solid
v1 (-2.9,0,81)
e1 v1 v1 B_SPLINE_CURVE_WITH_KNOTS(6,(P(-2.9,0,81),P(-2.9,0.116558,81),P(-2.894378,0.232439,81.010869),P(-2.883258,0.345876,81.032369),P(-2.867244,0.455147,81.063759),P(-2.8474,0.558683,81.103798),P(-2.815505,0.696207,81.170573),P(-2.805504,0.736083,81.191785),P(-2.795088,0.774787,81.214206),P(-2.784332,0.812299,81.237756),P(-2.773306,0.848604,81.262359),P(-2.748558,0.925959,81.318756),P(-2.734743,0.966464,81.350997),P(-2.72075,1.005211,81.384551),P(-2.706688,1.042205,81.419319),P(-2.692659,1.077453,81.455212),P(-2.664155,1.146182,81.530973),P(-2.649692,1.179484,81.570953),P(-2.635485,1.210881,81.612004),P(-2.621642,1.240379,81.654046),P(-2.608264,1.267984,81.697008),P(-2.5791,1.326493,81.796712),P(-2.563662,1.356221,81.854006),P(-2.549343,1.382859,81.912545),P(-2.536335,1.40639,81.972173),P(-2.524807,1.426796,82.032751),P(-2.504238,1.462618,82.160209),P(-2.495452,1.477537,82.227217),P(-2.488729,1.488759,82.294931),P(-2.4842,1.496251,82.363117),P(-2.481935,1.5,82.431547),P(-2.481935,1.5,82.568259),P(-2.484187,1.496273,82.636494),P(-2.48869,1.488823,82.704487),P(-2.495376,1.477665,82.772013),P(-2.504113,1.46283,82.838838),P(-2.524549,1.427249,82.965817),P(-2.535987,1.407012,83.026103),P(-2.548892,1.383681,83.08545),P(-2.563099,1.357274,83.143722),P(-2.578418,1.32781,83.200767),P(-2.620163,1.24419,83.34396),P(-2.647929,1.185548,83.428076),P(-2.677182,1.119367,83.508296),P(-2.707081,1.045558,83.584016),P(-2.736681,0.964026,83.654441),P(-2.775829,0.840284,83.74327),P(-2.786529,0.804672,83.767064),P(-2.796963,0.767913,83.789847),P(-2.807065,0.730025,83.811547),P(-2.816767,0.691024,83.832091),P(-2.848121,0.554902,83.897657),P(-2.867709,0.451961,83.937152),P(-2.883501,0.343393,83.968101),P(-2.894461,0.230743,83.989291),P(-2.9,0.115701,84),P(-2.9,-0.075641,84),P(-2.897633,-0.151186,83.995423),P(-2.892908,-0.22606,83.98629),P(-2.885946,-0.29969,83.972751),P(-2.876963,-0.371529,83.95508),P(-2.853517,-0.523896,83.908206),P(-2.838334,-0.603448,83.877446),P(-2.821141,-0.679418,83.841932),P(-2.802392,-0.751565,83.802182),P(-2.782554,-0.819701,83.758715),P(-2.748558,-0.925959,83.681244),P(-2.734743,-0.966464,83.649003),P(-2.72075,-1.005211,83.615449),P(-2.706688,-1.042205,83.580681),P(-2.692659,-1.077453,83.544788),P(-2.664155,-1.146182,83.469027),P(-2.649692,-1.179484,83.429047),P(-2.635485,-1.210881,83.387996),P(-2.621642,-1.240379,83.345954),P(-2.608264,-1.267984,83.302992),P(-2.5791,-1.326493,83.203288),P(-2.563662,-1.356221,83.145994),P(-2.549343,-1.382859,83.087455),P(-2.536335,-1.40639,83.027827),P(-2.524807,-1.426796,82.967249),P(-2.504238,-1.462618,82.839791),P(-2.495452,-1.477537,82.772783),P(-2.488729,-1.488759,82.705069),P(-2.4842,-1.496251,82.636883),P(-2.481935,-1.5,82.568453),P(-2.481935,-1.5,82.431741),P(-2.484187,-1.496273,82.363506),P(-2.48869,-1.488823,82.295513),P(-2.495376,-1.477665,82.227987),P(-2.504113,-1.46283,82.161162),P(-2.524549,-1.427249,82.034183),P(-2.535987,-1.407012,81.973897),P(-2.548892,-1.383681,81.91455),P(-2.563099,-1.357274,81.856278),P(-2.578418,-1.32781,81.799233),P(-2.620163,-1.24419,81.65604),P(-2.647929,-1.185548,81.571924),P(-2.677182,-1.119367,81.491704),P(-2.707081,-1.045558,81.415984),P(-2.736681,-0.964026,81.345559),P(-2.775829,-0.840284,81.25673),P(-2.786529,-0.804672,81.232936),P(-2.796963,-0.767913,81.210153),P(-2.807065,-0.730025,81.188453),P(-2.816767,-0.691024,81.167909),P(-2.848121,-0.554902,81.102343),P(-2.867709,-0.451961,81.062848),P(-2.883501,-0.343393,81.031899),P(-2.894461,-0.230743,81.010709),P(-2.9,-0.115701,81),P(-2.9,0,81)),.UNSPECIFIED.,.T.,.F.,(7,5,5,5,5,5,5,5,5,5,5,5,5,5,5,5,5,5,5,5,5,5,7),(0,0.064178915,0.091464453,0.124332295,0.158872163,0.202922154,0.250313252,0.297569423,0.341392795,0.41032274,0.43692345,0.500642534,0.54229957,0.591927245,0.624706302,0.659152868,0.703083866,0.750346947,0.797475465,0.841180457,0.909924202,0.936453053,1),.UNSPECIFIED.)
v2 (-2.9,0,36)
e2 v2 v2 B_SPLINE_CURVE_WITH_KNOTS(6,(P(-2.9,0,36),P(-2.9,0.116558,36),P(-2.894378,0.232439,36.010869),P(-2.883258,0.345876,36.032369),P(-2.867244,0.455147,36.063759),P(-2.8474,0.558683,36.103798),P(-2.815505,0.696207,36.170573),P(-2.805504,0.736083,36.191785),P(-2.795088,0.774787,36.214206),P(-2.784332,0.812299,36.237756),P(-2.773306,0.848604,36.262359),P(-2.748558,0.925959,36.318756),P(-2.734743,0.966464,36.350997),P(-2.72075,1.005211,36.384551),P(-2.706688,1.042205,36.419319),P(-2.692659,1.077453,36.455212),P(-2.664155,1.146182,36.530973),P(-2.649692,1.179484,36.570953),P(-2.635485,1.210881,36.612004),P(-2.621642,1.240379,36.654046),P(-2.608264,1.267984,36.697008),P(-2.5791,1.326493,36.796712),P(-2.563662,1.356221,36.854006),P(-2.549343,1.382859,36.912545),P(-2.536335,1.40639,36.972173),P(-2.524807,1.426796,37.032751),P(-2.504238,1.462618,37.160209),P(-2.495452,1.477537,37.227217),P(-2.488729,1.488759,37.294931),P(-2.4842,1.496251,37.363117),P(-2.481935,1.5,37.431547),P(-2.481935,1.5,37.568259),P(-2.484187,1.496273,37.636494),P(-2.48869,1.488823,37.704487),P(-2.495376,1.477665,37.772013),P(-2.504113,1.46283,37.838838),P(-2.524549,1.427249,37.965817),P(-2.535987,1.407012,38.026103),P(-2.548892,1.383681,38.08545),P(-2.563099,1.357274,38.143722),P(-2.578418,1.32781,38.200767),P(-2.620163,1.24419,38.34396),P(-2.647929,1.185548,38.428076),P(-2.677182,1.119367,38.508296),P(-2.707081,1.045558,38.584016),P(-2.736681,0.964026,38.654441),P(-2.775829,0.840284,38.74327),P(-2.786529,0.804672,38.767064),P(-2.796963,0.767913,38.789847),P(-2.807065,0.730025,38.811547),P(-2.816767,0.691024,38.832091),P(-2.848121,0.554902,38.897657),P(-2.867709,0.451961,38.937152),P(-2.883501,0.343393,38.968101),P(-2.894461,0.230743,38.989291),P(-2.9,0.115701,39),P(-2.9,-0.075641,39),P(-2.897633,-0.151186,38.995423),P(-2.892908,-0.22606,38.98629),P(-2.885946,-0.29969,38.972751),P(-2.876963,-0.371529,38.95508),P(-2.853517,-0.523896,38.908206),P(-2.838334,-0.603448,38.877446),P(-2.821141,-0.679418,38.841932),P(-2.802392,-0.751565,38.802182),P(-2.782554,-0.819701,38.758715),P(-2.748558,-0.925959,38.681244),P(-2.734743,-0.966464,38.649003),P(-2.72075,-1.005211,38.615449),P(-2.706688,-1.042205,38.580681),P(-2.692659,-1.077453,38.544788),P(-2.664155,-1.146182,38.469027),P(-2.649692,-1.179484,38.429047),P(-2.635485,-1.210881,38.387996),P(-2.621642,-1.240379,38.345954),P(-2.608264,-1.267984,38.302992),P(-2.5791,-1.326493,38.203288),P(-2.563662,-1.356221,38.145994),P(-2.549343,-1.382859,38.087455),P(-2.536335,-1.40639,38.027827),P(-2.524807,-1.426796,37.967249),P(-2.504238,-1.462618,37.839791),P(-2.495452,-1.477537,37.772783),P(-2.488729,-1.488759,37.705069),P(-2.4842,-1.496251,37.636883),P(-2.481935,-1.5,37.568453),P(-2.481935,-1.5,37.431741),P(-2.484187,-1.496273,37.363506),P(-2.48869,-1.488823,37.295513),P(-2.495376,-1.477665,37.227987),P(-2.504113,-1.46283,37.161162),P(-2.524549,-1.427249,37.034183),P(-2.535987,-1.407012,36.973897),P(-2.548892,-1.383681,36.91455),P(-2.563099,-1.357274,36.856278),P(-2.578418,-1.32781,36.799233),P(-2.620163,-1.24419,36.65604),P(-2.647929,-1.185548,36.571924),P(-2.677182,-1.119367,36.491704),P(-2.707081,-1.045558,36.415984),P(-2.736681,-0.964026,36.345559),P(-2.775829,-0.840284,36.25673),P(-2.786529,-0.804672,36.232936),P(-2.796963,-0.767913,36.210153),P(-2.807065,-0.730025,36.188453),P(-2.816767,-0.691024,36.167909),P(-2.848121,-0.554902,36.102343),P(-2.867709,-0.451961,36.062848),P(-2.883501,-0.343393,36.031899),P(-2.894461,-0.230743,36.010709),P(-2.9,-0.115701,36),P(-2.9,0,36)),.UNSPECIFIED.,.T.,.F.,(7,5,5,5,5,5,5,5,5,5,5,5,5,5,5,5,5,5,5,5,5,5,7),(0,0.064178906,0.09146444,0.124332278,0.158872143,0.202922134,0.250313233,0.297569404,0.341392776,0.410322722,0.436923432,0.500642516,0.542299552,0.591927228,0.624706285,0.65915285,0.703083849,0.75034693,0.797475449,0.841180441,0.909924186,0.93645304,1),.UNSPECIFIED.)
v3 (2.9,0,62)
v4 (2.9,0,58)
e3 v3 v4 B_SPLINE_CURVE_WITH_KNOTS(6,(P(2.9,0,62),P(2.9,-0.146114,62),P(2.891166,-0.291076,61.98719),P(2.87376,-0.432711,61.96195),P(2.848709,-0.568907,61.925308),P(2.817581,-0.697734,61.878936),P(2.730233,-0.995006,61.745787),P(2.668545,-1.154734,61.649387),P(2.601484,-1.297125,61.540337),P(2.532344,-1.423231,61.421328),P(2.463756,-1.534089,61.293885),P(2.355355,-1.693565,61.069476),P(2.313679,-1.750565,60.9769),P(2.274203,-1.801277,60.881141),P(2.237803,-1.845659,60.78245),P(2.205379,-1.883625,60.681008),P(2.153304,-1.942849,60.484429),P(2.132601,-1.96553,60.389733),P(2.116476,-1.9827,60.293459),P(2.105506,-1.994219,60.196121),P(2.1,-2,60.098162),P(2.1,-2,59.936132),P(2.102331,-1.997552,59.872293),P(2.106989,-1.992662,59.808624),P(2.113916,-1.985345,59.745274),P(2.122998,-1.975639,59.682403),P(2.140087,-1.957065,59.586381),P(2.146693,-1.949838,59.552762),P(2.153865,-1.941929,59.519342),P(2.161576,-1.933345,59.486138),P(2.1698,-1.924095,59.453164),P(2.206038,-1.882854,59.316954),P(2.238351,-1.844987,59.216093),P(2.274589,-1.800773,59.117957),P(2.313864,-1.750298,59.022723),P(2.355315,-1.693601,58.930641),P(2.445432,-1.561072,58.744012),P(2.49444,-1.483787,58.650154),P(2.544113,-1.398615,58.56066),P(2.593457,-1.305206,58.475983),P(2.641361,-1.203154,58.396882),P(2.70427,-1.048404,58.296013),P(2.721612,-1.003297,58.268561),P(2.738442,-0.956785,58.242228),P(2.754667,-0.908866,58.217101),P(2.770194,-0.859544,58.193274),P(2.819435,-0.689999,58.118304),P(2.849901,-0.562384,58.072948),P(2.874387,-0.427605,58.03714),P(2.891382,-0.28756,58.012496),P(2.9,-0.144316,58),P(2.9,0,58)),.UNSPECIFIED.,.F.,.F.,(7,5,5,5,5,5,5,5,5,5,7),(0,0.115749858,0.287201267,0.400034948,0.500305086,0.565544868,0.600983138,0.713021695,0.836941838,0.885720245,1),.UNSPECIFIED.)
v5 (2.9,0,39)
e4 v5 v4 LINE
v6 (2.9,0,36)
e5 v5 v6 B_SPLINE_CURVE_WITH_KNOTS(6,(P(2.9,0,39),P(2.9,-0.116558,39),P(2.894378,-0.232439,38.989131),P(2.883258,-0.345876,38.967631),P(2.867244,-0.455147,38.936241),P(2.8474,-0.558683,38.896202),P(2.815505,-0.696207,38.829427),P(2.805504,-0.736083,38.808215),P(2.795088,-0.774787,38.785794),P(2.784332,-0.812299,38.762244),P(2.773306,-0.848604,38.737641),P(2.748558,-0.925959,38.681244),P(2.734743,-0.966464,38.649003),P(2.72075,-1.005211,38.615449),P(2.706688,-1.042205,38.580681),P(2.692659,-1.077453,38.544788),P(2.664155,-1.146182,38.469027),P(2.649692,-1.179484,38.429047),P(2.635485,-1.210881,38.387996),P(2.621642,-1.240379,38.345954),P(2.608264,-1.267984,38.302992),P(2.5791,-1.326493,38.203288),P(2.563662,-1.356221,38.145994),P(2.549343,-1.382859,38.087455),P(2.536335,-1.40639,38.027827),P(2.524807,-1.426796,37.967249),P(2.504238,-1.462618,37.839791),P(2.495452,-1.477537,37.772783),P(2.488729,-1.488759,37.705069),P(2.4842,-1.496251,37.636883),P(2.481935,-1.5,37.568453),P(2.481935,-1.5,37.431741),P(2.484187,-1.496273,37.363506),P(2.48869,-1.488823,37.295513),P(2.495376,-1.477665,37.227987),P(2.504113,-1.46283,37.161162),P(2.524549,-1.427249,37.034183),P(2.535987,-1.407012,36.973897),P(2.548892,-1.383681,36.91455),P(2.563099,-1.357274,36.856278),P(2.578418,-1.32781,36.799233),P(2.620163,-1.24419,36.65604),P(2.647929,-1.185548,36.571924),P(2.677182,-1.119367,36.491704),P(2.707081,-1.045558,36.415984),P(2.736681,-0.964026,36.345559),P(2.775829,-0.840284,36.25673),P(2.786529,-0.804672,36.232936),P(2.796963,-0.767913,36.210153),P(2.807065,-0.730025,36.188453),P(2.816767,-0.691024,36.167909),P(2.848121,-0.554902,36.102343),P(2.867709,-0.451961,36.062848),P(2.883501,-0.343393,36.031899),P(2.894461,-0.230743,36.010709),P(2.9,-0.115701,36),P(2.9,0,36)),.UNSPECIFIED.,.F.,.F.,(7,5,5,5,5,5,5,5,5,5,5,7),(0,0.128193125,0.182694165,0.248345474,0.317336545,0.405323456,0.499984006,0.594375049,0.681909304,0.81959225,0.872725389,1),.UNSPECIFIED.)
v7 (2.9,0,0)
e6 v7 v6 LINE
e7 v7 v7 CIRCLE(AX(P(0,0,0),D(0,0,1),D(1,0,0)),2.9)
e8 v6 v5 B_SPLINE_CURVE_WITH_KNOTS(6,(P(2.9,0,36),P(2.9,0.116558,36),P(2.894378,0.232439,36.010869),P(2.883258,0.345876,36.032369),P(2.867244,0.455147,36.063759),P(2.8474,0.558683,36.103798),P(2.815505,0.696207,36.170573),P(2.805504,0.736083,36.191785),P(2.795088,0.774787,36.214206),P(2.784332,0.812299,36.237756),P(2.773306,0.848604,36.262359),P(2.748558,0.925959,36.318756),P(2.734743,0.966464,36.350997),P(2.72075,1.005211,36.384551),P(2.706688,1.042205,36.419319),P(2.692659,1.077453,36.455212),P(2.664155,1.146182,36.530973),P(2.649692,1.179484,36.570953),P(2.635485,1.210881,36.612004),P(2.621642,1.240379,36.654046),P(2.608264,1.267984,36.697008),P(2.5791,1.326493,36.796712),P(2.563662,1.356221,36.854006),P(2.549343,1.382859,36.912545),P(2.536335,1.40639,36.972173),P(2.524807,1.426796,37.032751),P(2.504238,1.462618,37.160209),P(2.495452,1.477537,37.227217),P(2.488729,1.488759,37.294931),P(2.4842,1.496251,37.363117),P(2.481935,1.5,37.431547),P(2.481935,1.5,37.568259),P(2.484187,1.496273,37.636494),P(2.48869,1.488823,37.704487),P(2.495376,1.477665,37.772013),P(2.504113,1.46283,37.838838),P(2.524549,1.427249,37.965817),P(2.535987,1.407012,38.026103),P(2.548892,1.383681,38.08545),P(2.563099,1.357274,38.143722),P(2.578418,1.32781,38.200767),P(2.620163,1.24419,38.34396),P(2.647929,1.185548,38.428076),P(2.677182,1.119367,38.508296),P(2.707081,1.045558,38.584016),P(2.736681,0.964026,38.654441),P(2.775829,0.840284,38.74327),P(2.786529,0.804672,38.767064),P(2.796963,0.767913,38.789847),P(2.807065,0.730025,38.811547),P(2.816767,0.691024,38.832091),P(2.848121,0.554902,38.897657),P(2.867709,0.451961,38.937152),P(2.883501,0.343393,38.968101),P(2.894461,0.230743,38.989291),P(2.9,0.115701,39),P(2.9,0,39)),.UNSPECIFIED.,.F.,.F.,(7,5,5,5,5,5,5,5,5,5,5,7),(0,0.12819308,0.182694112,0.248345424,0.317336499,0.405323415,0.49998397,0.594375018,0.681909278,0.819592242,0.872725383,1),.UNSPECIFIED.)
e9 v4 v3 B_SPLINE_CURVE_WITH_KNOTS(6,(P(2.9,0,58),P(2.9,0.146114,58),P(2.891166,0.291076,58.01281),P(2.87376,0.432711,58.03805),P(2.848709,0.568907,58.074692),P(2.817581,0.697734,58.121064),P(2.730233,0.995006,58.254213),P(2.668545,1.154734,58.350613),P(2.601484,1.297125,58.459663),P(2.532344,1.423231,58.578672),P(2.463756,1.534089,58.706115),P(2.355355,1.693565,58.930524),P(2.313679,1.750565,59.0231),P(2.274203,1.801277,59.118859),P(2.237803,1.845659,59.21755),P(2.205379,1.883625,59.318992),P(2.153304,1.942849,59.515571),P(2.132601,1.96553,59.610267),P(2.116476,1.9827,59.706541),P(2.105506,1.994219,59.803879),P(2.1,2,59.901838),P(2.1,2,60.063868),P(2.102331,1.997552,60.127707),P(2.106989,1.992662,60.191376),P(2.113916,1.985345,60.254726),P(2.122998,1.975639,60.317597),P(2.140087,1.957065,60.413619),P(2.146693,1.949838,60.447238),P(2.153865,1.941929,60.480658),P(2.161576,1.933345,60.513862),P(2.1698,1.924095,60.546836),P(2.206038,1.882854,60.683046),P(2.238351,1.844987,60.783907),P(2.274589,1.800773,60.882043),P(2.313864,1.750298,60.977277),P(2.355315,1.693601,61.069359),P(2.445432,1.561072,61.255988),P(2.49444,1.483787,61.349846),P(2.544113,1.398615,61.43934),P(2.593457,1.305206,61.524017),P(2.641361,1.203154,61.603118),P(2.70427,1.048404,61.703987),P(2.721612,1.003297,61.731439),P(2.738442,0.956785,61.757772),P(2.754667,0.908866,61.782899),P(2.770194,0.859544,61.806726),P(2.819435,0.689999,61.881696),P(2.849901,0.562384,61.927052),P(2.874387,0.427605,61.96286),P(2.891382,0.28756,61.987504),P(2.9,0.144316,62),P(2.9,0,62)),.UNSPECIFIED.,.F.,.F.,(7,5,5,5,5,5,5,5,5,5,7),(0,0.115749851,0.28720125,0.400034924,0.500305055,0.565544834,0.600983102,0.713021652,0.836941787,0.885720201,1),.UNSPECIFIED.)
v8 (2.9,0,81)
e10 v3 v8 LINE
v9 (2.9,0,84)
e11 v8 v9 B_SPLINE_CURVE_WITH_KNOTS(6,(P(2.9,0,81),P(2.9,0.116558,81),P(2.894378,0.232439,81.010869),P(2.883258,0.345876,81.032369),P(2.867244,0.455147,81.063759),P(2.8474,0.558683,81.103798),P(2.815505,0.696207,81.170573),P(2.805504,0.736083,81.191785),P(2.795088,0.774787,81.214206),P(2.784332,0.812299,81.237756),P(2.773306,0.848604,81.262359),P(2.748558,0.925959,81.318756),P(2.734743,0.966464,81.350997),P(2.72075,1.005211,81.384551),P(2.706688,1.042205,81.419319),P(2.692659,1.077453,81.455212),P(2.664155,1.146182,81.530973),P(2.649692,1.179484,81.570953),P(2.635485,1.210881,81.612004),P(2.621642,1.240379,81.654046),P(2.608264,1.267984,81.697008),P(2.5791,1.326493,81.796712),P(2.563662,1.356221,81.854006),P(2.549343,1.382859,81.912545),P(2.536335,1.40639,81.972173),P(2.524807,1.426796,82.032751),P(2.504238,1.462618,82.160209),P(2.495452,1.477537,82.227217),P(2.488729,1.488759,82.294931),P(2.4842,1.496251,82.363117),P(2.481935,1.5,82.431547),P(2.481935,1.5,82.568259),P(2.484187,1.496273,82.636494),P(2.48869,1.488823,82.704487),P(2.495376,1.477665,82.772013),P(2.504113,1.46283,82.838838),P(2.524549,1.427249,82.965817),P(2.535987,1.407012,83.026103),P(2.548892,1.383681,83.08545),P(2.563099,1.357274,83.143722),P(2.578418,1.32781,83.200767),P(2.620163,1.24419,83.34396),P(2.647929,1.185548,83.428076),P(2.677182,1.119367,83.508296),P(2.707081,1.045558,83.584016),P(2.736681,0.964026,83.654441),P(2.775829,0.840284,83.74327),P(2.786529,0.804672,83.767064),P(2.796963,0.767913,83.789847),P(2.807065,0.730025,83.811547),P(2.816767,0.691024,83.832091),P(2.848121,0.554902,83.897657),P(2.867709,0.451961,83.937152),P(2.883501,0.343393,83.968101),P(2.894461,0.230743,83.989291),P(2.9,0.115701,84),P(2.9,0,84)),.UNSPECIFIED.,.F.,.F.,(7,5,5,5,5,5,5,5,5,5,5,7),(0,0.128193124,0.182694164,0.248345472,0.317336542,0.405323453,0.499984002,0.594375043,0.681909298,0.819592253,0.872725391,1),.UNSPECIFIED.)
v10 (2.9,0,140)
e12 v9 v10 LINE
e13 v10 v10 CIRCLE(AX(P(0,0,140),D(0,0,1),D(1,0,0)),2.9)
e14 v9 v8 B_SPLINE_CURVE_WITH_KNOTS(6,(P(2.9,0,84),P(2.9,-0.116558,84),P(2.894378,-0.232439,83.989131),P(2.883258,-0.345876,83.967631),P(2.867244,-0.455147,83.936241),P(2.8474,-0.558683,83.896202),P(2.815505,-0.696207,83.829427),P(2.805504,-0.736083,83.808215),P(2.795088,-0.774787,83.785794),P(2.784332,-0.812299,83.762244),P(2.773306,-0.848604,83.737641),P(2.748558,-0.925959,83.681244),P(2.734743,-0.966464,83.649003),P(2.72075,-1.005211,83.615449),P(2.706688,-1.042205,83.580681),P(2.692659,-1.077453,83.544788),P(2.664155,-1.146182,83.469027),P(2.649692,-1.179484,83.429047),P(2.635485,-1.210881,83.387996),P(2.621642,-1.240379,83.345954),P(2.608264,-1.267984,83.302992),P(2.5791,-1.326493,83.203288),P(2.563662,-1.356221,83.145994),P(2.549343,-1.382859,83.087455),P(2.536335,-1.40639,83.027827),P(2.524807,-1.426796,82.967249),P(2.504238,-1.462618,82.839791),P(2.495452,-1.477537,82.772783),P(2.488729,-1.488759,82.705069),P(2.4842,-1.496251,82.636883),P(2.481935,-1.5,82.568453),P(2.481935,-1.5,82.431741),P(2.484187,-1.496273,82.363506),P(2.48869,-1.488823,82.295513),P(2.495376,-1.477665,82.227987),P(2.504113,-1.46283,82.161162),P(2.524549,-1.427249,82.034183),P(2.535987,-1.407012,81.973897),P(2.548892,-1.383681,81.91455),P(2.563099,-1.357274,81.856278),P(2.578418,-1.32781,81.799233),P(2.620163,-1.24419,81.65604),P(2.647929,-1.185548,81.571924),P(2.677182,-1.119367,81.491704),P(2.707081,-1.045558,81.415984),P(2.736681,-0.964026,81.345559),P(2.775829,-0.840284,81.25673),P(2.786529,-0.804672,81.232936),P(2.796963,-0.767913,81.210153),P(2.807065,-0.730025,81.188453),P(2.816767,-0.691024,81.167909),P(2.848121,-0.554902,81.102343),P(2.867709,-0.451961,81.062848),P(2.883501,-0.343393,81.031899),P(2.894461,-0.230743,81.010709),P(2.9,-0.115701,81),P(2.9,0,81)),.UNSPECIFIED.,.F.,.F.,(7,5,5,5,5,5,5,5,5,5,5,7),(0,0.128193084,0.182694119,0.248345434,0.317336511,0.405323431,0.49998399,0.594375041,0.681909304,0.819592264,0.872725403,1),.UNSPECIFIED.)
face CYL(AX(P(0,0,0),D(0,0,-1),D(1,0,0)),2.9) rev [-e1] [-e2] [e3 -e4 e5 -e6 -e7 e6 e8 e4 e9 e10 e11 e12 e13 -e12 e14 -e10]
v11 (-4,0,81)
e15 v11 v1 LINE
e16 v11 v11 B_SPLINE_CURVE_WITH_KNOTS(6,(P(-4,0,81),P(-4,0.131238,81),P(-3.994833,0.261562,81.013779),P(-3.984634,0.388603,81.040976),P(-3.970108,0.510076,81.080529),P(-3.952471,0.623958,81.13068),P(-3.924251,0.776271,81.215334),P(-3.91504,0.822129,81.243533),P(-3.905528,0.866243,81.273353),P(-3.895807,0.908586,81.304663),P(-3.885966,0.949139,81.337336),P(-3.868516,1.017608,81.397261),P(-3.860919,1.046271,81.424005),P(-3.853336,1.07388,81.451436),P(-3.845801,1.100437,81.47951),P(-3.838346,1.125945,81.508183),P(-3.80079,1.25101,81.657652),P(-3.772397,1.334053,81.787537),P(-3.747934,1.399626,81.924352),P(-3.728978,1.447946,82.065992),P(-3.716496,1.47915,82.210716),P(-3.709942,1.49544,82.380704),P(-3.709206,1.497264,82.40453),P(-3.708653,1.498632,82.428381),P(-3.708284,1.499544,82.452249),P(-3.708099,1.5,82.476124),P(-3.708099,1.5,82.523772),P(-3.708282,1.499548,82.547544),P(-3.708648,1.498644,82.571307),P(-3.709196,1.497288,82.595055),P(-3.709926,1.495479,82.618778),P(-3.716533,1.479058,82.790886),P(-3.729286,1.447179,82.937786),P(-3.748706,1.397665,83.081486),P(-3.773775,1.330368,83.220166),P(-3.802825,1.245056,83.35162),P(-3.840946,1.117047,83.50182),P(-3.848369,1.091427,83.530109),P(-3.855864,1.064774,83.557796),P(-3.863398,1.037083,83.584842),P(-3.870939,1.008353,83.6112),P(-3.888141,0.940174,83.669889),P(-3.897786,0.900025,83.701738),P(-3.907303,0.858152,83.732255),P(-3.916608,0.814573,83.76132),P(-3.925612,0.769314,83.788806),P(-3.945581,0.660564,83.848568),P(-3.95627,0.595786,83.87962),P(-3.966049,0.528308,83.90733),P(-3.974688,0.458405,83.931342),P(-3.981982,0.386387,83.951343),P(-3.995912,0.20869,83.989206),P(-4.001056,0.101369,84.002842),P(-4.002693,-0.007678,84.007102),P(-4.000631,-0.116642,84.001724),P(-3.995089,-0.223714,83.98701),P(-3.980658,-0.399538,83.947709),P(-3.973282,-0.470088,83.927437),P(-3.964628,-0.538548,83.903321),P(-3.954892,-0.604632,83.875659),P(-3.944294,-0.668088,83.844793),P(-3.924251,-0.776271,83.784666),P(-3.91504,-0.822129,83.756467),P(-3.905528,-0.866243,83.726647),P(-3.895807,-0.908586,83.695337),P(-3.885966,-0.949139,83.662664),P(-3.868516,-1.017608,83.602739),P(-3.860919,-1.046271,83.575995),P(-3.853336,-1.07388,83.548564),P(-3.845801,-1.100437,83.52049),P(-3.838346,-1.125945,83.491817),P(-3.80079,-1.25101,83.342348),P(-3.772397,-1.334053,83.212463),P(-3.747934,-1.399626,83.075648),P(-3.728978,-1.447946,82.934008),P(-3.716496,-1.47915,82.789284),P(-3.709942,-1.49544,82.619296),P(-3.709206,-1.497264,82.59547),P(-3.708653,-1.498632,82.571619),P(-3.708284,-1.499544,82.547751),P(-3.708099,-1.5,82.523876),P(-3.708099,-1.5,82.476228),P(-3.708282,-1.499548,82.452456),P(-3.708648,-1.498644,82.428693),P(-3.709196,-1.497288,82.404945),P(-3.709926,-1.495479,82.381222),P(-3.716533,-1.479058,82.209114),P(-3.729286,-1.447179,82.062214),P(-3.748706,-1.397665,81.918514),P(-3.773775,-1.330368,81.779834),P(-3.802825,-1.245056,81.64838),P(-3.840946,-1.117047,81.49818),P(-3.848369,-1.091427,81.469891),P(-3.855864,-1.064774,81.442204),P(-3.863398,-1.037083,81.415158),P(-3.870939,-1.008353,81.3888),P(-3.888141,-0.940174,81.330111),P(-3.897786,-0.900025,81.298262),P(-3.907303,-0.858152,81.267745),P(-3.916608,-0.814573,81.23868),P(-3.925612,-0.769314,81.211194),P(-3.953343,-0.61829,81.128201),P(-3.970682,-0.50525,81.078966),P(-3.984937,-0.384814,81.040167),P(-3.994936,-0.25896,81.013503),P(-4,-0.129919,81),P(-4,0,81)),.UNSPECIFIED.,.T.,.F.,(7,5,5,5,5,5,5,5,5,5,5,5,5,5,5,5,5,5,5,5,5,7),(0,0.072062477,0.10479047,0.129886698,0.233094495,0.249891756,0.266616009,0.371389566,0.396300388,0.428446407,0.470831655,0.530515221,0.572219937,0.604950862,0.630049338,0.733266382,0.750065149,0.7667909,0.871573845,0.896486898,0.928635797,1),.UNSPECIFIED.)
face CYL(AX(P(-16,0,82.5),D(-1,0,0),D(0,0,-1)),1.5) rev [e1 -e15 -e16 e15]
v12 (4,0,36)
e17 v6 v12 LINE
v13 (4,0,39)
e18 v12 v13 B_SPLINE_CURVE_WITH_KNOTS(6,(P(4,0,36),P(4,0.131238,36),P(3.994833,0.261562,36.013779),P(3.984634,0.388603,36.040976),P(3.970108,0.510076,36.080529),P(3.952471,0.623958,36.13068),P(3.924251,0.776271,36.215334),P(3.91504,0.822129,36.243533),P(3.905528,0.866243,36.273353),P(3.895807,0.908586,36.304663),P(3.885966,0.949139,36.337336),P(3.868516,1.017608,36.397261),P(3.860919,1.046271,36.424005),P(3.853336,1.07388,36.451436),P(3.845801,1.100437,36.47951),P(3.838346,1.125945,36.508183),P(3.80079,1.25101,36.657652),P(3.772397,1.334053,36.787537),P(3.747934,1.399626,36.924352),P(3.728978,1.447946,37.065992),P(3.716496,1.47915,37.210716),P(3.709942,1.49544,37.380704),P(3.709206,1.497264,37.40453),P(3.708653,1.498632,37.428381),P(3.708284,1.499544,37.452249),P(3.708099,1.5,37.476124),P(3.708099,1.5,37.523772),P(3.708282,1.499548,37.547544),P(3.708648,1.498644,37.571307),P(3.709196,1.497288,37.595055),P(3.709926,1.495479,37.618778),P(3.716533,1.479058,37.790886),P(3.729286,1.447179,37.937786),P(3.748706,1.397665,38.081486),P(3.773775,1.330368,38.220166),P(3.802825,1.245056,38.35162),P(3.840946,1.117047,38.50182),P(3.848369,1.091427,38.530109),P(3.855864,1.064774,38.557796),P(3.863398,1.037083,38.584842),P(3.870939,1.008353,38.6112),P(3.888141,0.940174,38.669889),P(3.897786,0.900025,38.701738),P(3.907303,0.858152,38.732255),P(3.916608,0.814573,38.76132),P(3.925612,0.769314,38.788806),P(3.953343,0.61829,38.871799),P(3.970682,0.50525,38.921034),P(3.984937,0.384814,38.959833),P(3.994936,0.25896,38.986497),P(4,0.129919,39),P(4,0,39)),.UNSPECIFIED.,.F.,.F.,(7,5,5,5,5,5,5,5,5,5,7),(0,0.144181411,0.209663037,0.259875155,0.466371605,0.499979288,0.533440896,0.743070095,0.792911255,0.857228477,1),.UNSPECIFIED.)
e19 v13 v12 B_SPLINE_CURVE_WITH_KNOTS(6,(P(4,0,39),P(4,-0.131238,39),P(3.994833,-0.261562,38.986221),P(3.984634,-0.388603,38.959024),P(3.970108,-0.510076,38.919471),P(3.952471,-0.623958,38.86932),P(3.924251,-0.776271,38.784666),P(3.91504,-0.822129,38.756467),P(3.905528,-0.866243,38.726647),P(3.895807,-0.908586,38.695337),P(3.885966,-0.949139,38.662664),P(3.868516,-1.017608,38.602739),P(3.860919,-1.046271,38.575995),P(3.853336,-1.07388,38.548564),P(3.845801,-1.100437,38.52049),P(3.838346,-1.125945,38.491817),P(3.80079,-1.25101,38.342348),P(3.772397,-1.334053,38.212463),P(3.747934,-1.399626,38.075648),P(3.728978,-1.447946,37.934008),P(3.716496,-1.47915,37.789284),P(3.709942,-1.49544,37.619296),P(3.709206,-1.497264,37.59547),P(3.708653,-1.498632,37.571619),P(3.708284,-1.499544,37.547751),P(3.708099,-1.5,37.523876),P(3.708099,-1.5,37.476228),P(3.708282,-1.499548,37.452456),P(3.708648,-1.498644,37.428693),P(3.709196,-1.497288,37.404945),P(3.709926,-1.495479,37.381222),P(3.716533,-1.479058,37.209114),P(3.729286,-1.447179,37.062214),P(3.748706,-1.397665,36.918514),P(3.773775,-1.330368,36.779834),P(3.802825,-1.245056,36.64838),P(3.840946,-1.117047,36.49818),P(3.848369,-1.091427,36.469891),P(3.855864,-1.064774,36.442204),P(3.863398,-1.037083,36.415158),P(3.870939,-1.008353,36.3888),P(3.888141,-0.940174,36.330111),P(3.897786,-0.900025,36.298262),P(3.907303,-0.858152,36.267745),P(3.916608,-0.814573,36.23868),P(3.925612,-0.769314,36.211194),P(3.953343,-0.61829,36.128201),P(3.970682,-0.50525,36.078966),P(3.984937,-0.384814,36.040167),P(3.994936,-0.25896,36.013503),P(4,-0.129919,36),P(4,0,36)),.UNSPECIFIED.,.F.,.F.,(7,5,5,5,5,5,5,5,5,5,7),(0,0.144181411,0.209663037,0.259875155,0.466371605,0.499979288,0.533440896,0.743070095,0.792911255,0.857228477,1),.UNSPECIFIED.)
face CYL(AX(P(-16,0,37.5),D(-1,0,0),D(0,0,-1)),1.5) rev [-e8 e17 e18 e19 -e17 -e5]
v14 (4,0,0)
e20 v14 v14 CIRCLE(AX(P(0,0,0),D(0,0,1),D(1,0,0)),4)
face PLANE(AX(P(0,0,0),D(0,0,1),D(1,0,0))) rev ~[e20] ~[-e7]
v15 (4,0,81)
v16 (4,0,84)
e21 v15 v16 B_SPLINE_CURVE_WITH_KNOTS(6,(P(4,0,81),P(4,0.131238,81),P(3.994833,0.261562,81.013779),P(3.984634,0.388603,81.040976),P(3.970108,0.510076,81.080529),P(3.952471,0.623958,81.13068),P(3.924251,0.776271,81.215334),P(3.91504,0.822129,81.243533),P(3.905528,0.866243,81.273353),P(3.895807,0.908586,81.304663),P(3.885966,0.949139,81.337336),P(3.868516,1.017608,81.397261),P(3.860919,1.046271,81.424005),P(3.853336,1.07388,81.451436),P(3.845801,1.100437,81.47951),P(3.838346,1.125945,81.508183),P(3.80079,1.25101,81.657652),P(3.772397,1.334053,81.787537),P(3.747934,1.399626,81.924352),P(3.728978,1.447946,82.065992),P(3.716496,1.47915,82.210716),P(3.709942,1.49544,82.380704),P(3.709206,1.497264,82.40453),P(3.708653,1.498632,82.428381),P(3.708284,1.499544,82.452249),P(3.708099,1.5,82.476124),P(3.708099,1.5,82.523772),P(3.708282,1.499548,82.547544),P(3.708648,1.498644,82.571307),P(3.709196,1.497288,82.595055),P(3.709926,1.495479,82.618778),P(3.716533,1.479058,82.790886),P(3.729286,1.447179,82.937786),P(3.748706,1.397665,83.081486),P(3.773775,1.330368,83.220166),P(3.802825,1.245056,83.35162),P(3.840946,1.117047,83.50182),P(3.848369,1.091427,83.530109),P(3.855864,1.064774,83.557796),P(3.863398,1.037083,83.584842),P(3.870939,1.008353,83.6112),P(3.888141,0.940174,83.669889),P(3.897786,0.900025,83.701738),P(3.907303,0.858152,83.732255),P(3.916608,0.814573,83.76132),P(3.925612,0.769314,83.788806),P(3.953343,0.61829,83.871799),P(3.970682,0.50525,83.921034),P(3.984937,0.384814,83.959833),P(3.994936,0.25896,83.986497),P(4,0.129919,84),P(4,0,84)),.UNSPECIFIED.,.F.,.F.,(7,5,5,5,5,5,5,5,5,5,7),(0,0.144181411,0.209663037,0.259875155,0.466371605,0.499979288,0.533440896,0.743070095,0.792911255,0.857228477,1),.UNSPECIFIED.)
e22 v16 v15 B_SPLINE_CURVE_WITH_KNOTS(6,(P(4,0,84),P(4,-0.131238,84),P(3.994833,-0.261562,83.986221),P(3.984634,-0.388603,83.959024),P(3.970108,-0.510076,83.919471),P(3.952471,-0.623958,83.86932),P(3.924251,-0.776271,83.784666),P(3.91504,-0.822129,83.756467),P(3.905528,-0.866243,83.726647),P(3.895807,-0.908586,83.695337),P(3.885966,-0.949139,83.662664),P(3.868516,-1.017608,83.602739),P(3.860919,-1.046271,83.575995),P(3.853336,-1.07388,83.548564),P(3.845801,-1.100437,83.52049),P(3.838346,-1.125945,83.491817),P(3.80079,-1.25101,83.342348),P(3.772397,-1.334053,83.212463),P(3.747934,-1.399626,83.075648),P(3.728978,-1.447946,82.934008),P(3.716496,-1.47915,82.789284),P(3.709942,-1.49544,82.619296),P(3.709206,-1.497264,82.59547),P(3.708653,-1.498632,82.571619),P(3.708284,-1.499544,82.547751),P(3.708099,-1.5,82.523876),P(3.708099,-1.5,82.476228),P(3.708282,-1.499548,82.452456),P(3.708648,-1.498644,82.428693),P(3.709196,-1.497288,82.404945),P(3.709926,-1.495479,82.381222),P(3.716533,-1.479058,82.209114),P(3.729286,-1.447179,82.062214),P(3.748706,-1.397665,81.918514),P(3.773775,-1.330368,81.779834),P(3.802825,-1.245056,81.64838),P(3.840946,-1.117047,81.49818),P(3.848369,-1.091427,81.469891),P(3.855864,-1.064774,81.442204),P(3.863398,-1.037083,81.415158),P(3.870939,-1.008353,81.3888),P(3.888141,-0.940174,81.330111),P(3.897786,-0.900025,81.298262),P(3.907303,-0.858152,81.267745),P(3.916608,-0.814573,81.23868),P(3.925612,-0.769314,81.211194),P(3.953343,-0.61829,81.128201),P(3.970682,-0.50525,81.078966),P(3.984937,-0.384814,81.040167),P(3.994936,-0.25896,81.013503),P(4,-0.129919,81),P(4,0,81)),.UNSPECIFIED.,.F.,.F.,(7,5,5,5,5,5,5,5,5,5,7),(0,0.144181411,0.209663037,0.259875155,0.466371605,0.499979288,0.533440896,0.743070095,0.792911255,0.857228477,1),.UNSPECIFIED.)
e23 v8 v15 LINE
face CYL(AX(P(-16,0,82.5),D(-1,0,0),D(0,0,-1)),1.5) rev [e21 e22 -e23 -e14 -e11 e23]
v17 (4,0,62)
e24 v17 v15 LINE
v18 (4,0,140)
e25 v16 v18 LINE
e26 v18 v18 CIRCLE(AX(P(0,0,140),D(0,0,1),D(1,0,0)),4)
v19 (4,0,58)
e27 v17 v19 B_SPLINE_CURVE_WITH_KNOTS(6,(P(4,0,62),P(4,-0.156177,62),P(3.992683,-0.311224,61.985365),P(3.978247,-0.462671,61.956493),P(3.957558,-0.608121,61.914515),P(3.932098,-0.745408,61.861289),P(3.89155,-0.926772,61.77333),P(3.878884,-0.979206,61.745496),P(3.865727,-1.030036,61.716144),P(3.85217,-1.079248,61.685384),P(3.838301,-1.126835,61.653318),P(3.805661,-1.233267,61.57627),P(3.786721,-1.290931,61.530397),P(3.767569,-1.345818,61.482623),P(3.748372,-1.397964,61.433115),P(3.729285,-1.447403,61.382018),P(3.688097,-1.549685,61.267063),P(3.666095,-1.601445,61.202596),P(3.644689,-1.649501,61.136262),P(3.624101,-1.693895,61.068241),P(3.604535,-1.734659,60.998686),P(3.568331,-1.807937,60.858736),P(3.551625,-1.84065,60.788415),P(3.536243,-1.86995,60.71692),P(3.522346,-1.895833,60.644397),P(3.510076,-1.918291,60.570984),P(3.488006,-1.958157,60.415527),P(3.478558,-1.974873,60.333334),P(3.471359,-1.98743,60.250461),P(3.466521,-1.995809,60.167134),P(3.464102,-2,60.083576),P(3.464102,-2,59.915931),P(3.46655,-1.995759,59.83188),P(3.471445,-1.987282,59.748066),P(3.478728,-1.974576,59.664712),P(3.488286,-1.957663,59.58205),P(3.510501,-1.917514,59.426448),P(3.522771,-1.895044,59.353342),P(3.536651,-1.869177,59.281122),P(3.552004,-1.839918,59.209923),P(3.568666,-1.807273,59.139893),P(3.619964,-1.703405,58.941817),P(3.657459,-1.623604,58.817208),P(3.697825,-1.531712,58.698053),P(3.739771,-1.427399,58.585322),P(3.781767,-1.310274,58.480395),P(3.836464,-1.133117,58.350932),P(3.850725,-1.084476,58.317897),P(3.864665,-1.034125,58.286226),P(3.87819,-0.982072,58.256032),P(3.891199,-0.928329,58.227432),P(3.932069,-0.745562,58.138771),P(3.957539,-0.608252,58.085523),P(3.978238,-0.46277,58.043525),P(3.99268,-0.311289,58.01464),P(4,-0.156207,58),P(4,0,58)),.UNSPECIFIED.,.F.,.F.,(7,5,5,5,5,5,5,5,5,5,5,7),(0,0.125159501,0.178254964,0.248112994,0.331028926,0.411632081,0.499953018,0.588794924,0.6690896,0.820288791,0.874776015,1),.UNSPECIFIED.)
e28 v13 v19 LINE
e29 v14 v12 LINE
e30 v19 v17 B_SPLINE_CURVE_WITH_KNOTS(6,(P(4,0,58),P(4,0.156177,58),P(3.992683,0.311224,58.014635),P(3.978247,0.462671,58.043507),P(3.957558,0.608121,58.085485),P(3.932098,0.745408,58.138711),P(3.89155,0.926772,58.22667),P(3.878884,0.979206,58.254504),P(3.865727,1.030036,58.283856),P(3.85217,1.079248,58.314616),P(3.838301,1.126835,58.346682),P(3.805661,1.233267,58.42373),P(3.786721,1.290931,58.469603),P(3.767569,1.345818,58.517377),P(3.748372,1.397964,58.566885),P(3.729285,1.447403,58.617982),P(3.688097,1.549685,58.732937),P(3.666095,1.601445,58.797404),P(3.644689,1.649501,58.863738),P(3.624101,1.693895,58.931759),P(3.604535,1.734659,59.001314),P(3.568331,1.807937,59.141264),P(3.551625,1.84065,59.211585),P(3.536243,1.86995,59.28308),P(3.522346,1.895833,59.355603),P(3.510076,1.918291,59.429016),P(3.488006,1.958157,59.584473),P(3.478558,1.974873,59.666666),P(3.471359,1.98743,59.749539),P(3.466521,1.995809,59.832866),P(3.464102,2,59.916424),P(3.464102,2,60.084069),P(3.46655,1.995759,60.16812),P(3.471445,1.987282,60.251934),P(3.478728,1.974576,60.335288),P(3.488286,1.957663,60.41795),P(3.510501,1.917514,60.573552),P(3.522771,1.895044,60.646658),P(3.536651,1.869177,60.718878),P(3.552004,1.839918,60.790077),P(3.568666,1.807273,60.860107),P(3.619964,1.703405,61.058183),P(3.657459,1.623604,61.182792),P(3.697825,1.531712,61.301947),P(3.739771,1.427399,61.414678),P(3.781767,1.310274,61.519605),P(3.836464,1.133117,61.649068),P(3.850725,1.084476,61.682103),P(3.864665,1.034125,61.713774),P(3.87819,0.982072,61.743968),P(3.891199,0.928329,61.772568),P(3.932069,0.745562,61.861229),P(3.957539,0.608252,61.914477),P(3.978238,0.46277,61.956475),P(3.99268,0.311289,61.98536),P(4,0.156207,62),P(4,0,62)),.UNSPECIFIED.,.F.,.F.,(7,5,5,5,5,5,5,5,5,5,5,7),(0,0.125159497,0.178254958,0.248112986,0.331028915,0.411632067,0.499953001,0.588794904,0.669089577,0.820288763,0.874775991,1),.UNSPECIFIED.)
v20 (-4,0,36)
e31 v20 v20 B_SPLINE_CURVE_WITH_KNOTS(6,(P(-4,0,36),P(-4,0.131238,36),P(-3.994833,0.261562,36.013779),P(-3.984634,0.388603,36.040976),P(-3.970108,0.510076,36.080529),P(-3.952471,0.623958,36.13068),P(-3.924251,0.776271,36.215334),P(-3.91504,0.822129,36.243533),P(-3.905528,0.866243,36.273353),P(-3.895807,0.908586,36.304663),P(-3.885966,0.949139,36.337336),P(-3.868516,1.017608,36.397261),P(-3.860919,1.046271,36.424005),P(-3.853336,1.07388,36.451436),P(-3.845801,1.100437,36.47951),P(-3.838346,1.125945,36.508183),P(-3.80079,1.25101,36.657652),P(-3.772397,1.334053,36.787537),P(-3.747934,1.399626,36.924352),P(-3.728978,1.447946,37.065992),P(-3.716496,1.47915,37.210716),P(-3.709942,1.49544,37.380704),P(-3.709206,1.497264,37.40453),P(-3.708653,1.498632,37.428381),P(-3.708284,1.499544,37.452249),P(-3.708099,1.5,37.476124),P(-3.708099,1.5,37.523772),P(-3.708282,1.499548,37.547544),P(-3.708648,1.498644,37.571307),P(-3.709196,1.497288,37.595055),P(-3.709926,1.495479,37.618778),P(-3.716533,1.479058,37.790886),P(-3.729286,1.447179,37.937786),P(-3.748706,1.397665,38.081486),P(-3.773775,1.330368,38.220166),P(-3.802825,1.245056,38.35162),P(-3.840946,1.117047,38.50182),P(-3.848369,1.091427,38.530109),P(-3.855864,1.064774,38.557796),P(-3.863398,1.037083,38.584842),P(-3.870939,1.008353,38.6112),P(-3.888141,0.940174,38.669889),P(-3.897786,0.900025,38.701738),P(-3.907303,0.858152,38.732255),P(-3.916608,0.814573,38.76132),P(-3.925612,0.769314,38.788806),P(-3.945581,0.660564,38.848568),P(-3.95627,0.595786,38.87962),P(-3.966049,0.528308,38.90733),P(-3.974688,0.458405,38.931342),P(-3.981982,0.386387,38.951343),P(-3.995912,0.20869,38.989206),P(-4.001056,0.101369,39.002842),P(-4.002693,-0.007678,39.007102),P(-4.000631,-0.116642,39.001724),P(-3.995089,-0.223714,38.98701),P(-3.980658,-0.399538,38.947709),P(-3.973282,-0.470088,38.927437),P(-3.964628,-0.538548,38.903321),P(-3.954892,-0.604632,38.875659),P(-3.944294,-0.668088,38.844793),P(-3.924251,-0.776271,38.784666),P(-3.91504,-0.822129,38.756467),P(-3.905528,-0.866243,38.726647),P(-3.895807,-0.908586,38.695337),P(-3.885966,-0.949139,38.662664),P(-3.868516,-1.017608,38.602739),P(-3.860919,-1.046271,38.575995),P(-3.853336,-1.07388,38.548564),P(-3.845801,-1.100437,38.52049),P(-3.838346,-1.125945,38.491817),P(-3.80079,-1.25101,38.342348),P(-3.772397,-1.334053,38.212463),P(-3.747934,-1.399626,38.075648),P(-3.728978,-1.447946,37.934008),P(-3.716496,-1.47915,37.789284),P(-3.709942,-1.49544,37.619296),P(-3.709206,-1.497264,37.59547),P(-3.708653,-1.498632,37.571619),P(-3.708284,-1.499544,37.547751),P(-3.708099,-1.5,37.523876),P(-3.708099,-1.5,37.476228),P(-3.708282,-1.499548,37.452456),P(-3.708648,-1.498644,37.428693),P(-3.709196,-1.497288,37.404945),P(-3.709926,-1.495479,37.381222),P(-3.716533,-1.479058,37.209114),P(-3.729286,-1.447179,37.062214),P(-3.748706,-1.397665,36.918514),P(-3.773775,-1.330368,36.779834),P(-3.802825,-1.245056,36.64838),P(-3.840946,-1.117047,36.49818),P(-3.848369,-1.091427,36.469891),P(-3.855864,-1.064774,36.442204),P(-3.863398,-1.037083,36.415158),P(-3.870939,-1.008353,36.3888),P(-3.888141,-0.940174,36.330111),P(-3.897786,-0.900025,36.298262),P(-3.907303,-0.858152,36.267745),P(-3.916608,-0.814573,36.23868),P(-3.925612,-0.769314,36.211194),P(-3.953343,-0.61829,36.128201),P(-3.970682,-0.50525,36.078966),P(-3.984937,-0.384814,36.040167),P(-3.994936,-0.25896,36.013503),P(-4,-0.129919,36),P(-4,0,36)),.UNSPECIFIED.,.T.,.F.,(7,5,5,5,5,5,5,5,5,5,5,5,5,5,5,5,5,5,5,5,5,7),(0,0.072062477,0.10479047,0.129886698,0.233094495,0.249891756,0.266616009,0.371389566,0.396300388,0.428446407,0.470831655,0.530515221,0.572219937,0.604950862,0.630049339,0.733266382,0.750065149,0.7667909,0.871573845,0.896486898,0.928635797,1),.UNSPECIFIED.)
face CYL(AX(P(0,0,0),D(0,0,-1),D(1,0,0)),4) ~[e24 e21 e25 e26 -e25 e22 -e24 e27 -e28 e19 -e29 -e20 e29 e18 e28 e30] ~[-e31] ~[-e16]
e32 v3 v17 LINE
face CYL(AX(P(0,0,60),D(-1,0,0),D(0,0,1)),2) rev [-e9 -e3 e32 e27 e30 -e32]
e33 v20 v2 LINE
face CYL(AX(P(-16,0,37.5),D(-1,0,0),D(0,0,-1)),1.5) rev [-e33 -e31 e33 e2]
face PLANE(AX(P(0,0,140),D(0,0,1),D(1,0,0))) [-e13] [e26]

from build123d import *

# Parameters (mm, degrees)
SKETCH1_R                                  = 4
SKETCH1_R_2                                = 2.9
SHAFT_BOSS_EXTRUDE1_DEPTH                  = 140
PCB_MOUNTINGHOPLES_CUT_EXTRUDE1_DEPTH      = 8.232243507
PCB_MOUNTINGHOPLES_CUT_EXTRUDE1_DEPTH_BACK = 16
SKETCH2_R                                  = 1.5
SKETCH3_R                                  = 2
PCB_CONNECTOR_HOLE_CUT_EXTRUDE2_DEPTH      = 10


with BuildPart() as part:
    # Sketch1 → Shaft Boss-Extrude1 (new body)
    with BuildSketch(Plane.XY):
        Circle(SKETCH1_R)
        Circle(SKETCH1_R_2, mode=Mode.SUBTRACT)
    extrude(amount=SHAFT_BOSS_EXTRUDE1_DEPTH)

    # Sketch2 → PCB Mountinghoples Cut-Extrude1 (cut, two sides: drawn at the far end of the back side and taken through both)
    with BuildSketch(Plane(origin=(0, 0, 0), x_dir=(0, 0, -1), z_dir=(1, 0, 0)).offset(-PCB_MOUNTINGHOPLES_CUT_EXTRUDE1_DEPTH_BACK)):
        with Locations((-82.5, 0)):
            Circle(SKETCH2_R)
        with Locations((-37.5, 0)):
            Circle(SKETCH2_R)
    extrude(amount=PCB_MOUNTINGHOPLES_CUT_EXTRUDE1_DEPTH + PCB_MOUNTINGHOPLES_CUT_EXTRUDE1_DEPTH_BACK, mode=Mode.SUBTRACT)

    # Sketch3 → PCB COnnector Hole Cut-Extrude2 (cut)
    with BuildSketch(Plane(origin=(0, 0, 0), x_dir=(0, 0, -1), z_dir=(1, 0, 0))):
        with Locations(Location((-60, 0, 0), (0, 0, 180))):
            Circle(SKETCH3_R)
    extrude(amount=PCB_CONNECTOR_HOLE_CUT_EXTRUDE2_DEPTH, mode=Mode.SUBTRACT)


solid = part.part
